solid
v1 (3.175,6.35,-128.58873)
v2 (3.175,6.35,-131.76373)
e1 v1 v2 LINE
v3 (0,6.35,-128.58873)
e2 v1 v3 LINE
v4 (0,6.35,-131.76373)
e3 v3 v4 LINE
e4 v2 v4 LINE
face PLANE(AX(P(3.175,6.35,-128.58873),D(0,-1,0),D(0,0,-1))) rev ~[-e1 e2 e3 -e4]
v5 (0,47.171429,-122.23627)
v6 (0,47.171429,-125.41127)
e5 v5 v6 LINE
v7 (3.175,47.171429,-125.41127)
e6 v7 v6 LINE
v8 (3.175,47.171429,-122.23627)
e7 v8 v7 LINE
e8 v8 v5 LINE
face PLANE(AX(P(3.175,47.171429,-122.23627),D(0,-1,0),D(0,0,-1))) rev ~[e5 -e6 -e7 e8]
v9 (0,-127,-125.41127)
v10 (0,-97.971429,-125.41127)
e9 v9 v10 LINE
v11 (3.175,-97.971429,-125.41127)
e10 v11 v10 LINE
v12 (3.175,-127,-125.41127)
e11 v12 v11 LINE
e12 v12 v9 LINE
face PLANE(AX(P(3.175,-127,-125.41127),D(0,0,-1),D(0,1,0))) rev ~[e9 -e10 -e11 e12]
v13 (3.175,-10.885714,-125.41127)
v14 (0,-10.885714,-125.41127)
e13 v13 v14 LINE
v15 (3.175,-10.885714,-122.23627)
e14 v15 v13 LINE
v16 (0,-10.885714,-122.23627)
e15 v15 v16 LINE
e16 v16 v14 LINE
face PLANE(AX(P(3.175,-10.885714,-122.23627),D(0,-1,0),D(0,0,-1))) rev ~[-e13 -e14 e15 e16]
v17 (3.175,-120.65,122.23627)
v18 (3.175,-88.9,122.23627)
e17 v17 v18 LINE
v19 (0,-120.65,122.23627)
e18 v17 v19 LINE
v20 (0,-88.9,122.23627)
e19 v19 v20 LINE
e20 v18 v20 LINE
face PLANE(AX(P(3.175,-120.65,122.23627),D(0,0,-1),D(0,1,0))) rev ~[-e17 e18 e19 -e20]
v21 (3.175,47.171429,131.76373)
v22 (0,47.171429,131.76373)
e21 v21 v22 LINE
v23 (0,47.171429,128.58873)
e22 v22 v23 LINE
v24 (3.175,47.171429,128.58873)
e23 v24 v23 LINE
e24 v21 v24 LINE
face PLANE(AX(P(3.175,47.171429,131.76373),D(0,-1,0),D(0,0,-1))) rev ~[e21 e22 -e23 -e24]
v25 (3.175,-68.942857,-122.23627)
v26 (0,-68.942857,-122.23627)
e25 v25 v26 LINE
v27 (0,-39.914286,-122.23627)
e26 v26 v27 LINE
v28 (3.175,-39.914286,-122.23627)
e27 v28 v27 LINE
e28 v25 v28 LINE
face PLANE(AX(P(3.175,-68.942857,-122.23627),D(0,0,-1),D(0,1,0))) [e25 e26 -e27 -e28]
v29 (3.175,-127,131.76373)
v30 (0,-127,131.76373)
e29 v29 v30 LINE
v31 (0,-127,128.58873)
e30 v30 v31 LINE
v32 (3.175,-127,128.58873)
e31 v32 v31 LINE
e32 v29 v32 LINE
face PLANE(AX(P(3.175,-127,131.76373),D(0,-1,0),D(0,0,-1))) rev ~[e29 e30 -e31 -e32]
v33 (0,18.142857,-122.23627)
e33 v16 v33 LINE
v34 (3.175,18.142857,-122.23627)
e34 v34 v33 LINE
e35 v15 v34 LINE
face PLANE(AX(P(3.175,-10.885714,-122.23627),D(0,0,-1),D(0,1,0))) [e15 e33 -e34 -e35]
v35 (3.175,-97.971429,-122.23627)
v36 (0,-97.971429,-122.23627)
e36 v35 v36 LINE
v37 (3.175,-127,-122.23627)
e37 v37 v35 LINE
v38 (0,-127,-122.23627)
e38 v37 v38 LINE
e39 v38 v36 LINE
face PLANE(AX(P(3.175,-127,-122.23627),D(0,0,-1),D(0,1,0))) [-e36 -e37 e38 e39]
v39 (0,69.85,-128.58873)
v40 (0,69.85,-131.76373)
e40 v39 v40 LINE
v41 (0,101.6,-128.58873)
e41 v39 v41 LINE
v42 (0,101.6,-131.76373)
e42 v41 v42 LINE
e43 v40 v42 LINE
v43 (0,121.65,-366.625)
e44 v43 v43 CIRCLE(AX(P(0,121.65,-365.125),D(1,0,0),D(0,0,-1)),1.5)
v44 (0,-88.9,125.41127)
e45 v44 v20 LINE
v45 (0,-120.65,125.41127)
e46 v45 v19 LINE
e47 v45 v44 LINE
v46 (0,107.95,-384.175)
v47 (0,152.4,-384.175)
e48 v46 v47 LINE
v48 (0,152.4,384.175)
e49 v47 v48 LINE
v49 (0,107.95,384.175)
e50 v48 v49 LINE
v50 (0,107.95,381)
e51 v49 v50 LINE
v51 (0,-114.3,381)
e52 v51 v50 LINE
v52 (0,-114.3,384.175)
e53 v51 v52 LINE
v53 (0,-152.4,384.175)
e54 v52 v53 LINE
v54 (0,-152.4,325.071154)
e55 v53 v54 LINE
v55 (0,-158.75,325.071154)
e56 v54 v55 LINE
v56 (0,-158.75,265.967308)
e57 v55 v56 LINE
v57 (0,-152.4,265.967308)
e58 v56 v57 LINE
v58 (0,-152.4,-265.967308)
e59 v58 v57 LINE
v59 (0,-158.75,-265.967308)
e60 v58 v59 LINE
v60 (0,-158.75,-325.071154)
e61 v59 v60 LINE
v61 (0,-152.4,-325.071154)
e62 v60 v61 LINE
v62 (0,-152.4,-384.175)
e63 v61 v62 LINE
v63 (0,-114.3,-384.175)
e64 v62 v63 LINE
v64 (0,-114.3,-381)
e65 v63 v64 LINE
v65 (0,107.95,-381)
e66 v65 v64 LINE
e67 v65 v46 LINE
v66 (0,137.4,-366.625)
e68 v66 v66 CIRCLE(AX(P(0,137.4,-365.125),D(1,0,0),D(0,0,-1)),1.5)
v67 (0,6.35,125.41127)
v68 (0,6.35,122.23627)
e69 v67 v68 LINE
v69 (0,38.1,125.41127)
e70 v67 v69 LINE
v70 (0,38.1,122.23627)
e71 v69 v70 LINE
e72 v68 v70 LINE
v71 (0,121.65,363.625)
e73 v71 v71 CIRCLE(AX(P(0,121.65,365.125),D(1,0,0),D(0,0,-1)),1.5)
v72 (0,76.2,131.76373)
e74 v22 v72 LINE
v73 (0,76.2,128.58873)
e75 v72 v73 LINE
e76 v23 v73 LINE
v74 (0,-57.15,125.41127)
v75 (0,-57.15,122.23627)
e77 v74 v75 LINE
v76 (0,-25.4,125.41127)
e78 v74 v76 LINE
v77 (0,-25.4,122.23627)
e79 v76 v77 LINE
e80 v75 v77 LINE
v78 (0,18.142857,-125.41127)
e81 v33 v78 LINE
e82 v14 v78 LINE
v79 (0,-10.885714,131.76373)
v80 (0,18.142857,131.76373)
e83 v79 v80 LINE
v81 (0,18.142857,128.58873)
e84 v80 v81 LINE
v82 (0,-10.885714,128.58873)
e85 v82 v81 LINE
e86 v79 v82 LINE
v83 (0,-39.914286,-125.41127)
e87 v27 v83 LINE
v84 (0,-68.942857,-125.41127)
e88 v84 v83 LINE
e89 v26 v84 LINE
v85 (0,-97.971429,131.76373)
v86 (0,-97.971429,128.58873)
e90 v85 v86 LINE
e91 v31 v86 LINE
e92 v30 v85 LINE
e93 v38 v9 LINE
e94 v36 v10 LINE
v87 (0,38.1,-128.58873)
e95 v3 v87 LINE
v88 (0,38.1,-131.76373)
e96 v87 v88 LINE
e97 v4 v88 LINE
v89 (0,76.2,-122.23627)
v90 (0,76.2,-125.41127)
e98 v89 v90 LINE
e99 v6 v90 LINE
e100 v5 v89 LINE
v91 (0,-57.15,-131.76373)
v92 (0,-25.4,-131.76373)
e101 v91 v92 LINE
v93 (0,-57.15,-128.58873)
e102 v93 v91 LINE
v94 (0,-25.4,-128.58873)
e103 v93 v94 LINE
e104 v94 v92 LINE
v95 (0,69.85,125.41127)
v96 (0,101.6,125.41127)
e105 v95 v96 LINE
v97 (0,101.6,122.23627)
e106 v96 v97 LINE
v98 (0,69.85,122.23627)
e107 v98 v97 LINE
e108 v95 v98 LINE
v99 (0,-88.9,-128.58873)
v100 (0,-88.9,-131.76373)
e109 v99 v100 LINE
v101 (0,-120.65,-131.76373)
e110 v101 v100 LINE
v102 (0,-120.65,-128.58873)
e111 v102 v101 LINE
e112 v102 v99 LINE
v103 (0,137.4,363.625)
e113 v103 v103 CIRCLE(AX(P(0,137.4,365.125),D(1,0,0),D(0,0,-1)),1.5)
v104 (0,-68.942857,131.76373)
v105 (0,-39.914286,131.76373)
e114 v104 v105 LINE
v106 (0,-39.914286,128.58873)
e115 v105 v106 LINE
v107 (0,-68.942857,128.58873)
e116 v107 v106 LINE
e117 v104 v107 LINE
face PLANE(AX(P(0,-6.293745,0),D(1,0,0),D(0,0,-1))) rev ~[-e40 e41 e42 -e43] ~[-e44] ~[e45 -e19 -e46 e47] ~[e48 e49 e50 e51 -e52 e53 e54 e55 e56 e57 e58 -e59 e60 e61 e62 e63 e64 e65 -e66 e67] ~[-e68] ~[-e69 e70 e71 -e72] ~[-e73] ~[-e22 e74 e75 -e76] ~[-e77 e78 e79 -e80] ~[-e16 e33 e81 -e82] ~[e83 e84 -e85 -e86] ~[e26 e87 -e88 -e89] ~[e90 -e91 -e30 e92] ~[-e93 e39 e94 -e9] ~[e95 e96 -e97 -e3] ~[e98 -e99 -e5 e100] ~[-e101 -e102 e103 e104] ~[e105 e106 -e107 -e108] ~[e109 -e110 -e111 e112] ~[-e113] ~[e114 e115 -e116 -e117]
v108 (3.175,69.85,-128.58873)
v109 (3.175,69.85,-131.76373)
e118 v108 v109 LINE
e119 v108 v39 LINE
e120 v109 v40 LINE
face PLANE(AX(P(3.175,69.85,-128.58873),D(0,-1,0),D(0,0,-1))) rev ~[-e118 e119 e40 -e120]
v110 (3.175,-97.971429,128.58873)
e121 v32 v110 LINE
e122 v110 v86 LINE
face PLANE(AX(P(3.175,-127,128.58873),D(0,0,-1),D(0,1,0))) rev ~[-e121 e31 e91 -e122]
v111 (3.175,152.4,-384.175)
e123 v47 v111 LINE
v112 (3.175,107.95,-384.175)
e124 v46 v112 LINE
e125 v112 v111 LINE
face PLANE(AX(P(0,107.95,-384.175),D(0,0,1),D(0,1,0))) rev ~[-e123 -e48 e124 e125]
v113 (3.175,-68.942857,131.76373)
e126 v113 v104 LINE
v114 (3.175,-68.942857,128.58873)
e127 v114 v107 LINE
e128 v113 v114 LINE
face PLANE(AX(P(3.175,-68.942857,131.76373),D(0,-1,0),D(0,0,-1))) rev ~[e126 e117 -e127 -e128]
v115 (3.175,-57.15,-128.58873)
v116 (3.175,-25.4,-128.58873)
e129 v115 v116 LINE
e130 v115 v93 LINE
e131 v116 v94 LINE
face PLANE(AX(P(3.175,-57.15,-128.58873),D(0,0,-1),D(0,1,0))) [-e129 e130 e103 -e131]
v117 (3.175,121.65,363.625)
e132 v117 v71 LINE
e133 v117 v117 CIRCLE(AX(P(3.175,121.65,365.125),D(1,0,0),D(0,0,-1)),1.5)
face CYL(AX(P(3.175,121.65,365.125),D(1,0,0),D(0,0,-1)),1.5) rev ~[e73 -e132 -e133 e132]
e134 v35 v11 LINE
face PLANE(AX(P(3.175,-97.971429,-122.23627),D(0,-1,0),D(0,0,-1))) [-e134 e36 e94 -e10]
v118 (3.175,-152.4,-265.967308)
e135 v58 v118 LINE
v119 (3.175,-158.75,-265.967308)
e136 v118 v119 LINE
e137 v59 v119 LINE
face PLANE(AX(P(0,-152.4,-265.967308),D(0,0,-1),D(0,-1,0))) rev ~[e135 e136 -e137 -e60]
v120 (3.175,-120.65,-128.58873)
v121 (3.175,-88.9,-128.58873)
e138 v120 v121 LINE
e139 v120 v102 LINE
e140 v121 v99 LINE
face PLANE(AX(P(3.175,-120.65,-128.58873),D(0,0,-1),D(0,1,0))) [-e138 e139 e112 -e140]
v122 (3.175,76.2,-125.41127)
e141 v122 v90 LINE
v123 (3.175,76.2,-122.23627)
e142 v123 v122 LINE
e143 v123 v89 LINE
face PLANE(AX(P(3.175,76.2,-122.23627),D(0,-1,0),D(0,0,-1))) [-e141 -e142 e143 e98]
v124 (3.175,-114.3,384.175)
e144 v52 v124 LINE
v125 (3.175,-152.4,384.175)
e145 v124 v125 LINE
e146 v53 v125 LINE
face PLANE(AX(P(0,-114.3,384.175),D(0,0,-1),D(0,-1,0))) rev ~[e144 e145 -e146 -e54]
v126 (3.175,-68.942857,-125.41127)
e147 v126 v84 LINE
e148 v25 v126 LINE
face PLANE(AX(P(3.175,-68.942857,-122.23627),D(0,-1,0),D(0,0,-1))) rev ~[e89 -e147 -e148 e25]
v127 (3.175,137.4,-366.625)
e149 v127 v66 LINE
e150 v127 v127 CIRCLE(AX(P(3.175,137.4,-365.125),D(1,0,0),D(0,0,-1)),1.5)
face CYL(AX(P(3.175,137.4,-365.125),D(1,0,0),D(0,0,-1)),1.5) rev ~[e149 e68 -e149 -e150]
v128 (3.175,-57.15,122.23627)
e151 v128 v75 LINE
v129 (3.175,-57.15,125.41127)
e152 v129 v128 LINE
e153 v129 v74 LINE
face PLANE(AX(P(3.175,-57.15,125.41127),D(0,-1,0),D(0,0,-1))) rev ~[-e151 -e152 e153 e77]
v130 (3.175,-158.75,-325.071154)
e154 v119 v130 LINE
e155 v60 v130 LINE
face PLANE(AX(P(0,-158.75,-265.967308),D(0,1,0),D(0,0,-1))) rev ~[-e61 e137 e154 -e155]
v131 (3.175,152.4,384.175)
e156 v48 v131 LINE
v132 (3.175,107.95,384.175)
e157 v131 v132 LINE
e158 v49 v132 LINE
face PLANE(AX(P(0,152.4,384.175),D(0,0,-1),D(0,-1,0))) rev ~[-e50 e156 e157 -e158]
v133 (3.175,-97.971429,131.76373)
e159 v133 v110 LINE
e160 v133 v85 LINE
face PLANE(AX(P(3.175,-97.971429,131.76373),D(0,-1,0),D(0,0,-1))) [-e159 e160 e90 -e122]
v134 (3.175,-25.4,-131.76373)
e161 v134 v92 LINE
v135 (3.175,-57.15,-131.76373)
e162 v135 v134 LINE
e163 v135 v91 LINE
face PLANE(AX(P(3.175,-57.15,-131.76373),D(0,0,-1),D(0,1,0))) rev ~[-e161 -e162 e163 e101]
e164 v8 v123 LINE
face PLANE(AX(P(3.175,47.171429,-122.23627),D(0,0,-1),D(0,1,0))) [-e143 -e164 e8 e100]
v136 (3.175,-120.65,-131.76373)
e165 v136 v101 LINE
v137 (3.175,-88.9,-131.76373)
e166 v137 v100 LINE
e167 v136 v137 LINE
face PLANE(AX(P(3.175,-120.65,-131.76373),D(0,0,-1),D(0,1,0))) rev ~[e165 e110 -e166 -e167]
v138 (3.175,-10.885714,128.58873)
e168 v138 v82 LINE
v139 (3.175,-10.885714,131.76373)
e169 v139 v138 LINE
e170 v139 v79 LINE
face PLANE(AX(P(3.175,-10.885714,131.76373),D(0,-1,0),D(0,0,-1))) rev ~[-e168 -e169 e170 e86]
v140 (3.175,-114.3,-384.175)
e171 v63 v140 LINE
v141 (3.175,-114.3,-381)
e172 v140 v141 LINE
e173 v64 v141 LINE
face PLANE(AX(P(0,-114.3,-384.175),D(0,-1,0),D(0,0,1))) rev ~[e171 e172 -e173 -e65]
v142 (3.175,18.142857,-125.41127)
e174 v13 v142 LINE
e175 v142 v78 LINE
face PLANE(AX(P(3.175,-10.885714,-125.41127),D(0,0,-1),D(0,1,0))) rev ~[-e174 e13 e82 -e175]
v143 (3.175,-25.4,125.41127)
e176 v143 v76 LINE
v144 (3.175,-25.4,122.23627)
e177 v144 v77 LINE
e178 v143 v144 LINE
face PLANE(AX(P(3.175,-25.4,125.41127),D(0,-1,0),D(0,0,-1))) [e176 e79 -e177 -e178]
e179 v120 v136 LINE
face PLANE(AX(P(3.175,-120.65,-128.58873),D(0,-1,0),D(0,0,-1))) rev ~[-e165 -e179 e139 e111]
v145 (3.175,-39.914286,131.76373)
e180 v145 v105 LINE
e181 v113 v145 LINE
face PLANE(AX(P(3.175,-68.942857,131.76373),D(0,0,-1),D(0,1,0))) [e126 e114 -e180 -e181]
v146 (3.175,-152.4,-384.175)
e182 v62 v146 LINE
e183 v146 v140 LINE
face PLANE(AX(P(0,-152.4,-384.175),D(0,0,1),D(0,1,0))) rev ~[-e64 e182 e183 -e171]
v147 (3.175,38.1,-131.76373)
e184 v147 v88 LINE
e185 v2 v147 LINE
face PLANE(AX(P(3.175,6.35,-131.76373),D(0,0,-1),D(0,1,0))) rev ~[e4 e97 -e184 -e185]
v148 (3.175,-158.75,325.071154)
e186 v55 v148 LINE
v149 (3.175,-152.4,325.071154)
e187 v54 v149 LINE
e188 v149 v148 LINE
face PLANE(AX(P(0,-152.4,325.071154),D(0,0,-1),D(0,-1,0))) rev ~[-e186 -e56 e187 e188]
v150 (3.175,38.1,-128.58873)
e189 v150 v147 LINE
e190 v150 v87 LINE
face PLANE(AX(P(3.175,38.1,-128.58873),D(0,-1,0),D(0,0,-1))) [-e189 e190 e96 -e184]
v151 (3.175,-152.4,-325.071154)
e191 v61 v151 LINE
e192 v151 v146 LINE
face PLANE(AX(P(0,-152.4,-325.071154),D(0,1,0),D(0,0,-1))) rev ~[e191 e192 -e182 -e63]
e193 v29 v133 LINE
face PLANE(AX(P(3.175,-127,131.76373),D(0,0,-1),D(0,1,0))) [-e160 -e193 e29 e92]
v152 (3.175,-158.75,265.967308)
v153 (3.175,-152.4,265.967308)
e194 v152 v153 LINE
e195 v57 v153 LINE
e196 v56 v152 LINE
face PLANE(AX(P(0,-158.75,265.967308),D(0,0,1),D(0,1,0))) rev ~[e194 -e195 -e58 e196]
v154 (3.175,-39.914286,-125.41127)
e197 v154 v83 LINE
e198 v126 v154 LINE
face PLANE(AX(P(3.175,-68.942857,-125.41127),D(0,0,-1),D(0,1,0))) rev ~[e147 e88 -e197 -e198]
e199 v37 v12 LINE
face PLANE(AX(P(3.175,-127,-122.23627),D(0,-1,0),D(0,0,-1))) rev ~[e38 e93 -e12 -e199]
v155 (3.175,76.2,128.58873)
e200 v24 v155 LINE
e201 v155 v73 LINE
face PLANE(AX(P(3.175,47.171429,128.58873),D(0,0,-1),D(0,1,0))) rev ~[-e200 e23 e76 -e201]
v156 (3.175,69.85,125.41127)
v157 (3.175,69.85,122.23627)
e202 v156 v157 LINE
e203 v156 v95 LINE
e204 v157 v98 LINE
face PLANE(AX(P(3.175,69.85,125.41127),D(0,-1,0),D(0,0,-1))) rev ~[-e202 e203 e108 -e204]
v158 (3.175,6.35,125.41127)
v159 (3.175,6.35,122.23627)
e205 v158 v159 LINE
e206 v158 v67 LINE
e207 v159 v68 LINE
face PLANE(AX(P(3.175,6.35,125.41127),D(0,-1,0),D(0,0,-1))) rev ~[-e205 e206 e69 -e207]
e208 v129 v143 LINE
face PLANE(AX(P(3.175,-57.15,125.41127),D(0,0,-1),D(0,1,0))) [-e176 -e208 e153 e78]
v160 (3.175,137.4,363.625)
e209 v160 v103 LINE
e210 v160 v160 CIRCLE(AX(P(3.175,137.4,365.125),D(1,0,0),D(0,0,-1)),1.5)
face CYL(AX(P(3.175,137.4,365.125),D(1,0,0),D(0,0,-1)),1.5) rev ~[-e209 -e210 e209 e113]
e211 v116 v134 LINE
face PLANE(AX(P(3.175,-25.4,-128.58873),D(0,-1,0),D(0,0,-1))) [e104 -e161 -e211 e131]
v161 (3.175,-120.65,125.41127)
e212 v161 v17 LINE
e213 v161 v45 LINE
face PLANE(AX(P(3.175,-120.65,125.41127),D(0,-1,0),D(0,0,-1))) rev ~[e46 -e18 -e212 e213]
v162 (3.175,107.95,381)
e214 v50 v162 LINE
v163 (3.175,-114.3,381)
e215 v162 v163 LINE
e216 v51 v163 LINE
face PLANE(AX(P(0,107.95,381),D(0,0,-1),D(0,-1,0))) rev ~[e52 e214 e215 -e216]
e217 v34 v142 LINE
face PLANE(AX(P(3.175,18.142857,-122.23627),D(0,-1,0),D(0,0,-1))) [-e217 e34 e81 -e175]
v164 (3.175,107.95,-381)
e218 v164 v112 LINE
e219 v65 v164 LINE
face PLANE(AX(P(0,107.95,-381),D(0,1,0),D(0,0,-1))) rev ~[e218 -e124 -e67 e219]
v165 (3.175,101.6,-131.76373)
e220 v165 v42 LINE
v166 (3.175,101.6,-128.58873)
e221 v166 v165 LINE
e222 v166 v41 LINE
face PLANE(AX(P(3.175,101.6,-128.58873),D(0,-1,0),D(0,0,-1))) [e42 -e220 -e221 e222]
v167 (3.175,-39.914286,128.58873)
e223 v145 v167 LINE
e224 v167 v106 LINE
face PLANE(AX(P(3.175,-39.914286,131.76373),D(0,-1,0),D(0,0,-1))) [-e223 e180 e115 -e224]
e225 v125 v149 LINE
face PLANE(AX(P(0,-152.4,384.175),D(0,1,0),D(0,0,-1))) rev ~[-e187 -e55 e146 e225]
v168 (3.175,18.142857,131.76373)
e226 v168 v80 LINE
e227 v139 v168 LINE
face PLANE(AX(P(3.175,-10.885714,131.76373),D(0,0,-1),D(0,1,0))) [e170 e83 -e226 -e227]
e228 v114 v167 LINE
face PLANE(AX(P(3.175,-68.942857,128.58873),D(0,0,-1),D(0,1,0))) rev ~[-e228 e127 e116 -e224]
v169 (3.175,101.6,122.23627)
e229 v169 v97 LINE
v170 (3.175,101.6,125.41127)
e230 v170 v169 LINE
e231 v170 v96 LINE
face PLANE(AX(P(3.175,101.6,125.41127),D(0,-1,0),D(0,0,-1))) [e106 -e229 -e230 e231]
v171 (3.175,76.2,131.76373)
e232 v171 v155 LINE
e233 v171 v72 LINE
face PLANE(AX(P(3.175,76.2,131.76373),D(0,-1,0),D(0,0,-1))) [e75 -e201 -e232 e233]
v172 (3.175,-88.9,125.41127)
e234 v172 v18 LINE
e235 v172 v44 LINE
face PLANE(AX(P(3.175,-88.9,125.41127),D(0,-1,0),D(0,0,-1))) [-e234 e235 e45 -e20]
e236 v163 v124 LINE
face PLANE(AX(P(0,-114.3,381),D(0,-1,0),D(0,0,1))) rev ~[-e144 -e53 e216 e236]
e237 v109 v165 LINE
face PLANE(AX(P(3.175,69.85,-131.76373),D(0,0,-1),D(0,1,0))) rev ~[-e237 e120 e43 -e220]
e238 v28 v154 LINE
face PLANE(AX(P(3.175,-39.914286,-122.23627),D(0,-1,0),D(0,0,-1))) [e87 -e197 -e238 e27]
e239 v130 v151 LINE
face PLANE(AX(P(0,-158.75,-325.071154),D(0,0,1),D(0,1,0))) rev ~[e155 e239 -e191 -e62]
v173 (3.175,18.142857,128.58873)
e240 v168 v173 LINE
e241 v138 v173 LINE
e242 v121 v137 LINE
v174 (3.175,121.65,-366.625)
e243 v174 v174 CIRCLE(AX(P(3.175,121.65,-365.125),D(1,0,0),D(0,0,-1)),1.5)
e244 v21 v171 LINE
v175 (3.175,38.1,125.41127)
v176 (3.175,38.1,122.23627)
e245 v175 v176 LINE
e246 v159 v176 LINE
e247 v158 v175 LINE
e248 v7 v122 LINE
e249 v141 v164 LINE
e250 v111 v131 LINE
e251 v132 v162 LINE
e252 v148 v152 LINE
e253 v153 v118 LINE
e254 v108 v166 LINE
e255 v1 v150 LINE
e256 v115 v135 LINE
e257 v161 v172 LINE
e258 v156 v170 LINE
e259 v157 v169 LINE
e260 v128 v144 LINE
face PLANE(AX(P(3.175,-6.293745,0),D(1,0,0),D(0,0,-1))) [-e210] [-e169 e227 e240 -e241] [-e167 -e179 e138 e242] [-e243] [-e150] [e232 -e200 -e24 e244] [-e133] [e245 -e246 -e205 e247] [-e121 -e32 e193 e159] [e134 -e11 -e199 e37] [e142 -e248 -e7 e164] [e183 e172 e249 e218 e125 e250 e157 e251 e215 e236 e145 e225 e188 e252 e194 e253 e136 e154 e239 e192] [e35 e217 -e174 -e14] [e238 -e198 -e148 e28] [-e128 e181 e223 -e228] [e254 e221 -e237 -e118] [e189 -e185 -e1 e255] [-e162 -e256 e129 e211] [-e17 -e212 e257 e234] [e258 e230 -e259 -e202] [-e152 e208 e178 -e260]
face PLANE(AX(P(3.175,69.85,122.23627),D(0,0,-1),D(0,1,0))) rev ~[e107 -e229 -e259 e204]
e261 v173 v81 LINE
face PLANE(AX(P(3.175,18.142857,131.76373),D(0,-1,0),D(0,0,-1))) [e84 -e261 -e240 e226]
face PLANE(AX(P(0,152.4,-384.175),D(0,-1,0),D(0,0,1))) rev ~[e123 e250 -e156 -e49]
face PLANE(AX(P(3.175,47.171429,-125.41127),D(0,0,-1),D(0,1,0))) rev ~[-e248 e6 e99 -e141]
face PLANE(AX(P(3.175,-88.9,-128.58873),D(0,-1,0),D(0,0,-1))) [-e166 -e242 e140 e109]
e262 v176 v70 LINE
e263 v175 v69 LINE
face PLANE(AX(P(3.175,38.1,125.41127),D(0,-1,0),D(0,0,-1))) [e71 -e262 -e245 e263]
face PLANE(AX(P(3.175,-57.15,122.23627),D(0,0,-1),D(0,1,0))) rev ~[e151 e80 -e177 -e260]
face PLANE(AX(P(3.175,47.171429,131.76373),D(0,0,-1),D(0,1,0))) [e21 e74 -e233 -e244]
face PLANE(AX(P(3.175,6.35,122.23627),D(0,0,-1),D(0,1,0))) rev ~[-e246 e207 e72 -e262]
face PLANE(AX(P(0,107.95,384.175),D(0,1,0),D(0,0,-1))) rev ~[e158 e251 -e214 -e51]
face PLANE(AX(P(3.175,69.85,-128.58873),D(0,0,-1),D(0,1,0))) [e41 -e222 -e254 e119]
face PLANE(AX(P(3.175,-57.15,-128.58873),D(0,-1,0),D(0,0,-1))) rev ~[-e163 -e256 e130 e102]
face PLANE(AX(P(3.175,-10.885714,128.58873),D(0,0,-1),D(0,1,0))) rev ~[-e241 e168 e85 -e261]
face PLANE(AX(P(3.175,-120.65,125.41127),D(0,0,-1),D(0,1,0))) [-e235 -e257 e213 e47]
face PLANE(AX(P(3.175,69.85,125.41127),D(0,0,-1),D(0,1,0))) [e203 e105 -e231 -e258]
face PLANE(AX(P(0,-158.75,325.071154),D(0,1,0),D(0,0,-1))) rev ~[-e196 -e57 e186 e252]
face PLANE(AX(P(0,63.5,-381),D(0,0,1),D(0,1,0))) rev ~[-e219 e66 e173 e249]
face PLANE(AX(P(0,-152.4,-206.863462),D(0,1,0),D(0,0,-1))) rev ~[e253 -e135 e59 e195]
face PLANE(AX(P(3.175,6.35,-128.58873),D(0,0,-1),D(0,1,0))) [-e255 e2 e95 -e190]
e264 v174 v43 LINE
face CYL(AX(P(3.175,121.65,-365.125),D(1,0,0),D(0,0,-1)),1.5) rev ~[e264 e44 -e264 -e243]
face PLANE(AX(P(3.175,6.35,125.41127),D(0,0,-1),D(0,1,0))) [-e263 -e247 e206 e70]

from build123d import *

# Parameters (mm, degrees)
BOSS_EXTRUDE1_DEPTH = 3.175
SKETCH3_W           = 3.175
SKETCH3_H           = 31.75
SKETCH3_H_2         = 29.028571429
CUT_EXTRUDE1_DEPTH  = 416.694688143
SKETCH4_R           = 1.5
CUT_EXTRUDE2_DEPTH  = 3.175
SKETCH5_W           = 3.175
SKETCH5_H           = 44.45
SKETCH5_W_2         = 59.103846153
SKETCH5_H_2         = 6.35
SKETCH5_W_3         = 59.103846154
CUT_EXTRUDE3_DEPTH  = 3.175


with BuildPart() as part:
    # Sketch1 → Boss-Extrude1 (new body)
    with BuildSketch(Plane(origin=(0, 0, 0), x_dir=(0, 0, -1), z_dir=(1, 0, 0))):
        Polygon((-384.175, 152.4), (-384.175, 107.95), (-381, 107.95), (-381, 63.5), (-384.175, 63.5), (-384.175, 19.05), (-381, 19.05), (-381, -25.4), (-384.175, -25.4), (-384.175, -69.85), (-381, -69.85), (-381, -114.3), (-384.175, -114.3), (-384.175, -152.4), (-325.071153846, -152.4), (-325.071153846, -158.75), (-265.967307692, -158.75), (-265.967307692, -152.4), (-206.863461538, -152.4), (-206.863461538, -158.75), (-147.759615385, -158.75), (-147.759615385, -152.4), (-88.655769231, -152.4), (-88.655769231, -158.75), (-29.551923077, -158.75), (-29.551923077, -152.4), (29.551923077, -152.4), (29.551923077, -158.75), (88.655769231, -158.75), (88.655769231, -152.4), (147.759615385, -152.4), (147.759615385, -158.75), (206.863461538, -158.75), (206.863461538, -152.4), (265.967307692, -152.4), (265.967307692, -158.75), (325.071153846, -158.75), (325.071153846, -152.4), (384.175, -152.4), (384.175, -114.3), (381, -114.3), (381, -69.85), (384.175, -69.85), (384.175, -25.4), (381, -25.4), (381, 19.05), (384.175, 19.05), (384.175, 63.5), (381, 63.5), (381, 107.95), (384.175, 107.95), (384.175, 152.4), align=None)
    extrude(amount=BOSS_EXTRUDE1_DEPTH)

    # Sketch3 → Cut-Extrude1 (cut, through all)
    with BuildSketch(Plane(origin=(3.175, 0, 0), x_dir=(0, 0, -1), z_dir=(1, 0, 0))):
        with Locations((-123.823769685, -104.775)):
            Rectangle(SKETCH3_W, SKETCH3_H)
        with Locations((-123.823769685, -41.275)):
            Rectangle(SKETCH3_W, SKETCH3_H)
        with Locations((-123.823769685, 22.225)):
            Rectangle(SKETCH3_W, SKETCH3_H)
        with Locations((-123.823769685, 85.725)):
            Rectangle(SKETCH3_W, SKETCH3_H)
        with Locations((-130.176230315, 61.685714285)):
            Rectangle(SKETCH3_W, SKETCH3_H_2)
        with Locations((-130.176230315, 3.628571428)):
            Rectangle(SKETCH3_W, SKETCH3_H_2)
        with Locations((-130.176230315, -54.428571428)):
            Rectangle(SKETCH3_W, SKETCH3_H_2)
        with Locations((-130.176230315, -112.485714286)):
            Rectangle(SKETCH3_W, SKETCH3_H_2)
        with Locations((130.176230315, 85.725)):
            Rectangle(SKETCH3_W, SKETCH3_H)
        with Locations((123.823769685, 61.685714285)):
            Rectangle(SKETCH3_W, SKETCH3_H_2)
        with Locations((130.176230315, 22.225)):
            Rectangle(SKETCH3_W, SKETCH3_H)
        with Locations((123.823769685, 3.628571428)):
            Rectangle(SKETCH3_W, SKETCH3_H_2)
        with Locations((130.176230315, -41.275)):
            Rectangle(SKETCH3_W, SKETCH3_H)
        with Locations((123.823769685, -54.428571428)):
            Rectangle(SKETCH3_W, SKETCH3_H_2)
        with Locations((130.176230315, -104.775)):
            Rectangle(SKETCH3_W, SKETCH3_H)
        with Locations((123.823769685, -112.485714286)):
            Rectangle(SKETCH3_W, SKETCH3_H_2)
    extrude(amount=-CUT_EXTRUDE1_DEPTH, mode=Mode.SUBTRACT)

    # Sketch4 → Cut-Extrude2 (cut)
    with BuildSketch(Plane(origin=(3.175, 0, 0), x_dir=(0, 0, -1), z_dir=(1, 0, 0))):
        with Locations((-365.125, 137.4)):
            Circle(SKETCH4_R)
        with Locations((-365.125, 121.65)):
            Circle(SKETCH4_R)
        with Locations((365.125, 137.4)):
            Circle(SKETCH4_R)
        with Locations((365.125, 121.65)):
            Circle(SKETCH4_R)
    extrude(amount=-CUT_EXTRUDE2_DEPTH, mode=Mode.SUBTRACT)

    # Sketch5 → Cut-Extrude3 (cut)
    with BuildSketch(Plane(origin=(3.175, 0, 0), x_dir=(0, 0, -1), z_dir=(1, 0, 0))):
        with Locations((-382.5875, 41.275)):
            Rectangle(SKETCH5_W, SKETCH5_H)
        with Locations((-382.5875, -47.625)):
            Rectangle(SKETCH5_W, SKETCH5_H)
        with Locations((-177.311538462, -155.575)):
            Rectangle(SKETCH5_W_2, SKETCH5_H_2)
        with Locations((-59.103846154, -155.575)):
            Rectangle(SKETCH5_W_3, SKETCH5_H_2)
        with Locations((59.103846154, -155.575)):
            Rectangle(SKETCH5_W_3, SKETCH5_H_2)
        with Locations((177.311538462, -155.575)):
            Rectangle(SKETCH5_W_2, SKETCH5_H_2)
        with Locations((382.5875, -47.625)):
            Rectangle(SKETCH5_W, SKETCH5_H)
        with Locations((382.5875, 41.275)):
            Rectangle(SKETCH5_W, SKETCH5_H)
    extrude(amount=-CUT_EXTRUDE3_DEPTH, mode=Mode.SUBTRACT)


solid = part.part
